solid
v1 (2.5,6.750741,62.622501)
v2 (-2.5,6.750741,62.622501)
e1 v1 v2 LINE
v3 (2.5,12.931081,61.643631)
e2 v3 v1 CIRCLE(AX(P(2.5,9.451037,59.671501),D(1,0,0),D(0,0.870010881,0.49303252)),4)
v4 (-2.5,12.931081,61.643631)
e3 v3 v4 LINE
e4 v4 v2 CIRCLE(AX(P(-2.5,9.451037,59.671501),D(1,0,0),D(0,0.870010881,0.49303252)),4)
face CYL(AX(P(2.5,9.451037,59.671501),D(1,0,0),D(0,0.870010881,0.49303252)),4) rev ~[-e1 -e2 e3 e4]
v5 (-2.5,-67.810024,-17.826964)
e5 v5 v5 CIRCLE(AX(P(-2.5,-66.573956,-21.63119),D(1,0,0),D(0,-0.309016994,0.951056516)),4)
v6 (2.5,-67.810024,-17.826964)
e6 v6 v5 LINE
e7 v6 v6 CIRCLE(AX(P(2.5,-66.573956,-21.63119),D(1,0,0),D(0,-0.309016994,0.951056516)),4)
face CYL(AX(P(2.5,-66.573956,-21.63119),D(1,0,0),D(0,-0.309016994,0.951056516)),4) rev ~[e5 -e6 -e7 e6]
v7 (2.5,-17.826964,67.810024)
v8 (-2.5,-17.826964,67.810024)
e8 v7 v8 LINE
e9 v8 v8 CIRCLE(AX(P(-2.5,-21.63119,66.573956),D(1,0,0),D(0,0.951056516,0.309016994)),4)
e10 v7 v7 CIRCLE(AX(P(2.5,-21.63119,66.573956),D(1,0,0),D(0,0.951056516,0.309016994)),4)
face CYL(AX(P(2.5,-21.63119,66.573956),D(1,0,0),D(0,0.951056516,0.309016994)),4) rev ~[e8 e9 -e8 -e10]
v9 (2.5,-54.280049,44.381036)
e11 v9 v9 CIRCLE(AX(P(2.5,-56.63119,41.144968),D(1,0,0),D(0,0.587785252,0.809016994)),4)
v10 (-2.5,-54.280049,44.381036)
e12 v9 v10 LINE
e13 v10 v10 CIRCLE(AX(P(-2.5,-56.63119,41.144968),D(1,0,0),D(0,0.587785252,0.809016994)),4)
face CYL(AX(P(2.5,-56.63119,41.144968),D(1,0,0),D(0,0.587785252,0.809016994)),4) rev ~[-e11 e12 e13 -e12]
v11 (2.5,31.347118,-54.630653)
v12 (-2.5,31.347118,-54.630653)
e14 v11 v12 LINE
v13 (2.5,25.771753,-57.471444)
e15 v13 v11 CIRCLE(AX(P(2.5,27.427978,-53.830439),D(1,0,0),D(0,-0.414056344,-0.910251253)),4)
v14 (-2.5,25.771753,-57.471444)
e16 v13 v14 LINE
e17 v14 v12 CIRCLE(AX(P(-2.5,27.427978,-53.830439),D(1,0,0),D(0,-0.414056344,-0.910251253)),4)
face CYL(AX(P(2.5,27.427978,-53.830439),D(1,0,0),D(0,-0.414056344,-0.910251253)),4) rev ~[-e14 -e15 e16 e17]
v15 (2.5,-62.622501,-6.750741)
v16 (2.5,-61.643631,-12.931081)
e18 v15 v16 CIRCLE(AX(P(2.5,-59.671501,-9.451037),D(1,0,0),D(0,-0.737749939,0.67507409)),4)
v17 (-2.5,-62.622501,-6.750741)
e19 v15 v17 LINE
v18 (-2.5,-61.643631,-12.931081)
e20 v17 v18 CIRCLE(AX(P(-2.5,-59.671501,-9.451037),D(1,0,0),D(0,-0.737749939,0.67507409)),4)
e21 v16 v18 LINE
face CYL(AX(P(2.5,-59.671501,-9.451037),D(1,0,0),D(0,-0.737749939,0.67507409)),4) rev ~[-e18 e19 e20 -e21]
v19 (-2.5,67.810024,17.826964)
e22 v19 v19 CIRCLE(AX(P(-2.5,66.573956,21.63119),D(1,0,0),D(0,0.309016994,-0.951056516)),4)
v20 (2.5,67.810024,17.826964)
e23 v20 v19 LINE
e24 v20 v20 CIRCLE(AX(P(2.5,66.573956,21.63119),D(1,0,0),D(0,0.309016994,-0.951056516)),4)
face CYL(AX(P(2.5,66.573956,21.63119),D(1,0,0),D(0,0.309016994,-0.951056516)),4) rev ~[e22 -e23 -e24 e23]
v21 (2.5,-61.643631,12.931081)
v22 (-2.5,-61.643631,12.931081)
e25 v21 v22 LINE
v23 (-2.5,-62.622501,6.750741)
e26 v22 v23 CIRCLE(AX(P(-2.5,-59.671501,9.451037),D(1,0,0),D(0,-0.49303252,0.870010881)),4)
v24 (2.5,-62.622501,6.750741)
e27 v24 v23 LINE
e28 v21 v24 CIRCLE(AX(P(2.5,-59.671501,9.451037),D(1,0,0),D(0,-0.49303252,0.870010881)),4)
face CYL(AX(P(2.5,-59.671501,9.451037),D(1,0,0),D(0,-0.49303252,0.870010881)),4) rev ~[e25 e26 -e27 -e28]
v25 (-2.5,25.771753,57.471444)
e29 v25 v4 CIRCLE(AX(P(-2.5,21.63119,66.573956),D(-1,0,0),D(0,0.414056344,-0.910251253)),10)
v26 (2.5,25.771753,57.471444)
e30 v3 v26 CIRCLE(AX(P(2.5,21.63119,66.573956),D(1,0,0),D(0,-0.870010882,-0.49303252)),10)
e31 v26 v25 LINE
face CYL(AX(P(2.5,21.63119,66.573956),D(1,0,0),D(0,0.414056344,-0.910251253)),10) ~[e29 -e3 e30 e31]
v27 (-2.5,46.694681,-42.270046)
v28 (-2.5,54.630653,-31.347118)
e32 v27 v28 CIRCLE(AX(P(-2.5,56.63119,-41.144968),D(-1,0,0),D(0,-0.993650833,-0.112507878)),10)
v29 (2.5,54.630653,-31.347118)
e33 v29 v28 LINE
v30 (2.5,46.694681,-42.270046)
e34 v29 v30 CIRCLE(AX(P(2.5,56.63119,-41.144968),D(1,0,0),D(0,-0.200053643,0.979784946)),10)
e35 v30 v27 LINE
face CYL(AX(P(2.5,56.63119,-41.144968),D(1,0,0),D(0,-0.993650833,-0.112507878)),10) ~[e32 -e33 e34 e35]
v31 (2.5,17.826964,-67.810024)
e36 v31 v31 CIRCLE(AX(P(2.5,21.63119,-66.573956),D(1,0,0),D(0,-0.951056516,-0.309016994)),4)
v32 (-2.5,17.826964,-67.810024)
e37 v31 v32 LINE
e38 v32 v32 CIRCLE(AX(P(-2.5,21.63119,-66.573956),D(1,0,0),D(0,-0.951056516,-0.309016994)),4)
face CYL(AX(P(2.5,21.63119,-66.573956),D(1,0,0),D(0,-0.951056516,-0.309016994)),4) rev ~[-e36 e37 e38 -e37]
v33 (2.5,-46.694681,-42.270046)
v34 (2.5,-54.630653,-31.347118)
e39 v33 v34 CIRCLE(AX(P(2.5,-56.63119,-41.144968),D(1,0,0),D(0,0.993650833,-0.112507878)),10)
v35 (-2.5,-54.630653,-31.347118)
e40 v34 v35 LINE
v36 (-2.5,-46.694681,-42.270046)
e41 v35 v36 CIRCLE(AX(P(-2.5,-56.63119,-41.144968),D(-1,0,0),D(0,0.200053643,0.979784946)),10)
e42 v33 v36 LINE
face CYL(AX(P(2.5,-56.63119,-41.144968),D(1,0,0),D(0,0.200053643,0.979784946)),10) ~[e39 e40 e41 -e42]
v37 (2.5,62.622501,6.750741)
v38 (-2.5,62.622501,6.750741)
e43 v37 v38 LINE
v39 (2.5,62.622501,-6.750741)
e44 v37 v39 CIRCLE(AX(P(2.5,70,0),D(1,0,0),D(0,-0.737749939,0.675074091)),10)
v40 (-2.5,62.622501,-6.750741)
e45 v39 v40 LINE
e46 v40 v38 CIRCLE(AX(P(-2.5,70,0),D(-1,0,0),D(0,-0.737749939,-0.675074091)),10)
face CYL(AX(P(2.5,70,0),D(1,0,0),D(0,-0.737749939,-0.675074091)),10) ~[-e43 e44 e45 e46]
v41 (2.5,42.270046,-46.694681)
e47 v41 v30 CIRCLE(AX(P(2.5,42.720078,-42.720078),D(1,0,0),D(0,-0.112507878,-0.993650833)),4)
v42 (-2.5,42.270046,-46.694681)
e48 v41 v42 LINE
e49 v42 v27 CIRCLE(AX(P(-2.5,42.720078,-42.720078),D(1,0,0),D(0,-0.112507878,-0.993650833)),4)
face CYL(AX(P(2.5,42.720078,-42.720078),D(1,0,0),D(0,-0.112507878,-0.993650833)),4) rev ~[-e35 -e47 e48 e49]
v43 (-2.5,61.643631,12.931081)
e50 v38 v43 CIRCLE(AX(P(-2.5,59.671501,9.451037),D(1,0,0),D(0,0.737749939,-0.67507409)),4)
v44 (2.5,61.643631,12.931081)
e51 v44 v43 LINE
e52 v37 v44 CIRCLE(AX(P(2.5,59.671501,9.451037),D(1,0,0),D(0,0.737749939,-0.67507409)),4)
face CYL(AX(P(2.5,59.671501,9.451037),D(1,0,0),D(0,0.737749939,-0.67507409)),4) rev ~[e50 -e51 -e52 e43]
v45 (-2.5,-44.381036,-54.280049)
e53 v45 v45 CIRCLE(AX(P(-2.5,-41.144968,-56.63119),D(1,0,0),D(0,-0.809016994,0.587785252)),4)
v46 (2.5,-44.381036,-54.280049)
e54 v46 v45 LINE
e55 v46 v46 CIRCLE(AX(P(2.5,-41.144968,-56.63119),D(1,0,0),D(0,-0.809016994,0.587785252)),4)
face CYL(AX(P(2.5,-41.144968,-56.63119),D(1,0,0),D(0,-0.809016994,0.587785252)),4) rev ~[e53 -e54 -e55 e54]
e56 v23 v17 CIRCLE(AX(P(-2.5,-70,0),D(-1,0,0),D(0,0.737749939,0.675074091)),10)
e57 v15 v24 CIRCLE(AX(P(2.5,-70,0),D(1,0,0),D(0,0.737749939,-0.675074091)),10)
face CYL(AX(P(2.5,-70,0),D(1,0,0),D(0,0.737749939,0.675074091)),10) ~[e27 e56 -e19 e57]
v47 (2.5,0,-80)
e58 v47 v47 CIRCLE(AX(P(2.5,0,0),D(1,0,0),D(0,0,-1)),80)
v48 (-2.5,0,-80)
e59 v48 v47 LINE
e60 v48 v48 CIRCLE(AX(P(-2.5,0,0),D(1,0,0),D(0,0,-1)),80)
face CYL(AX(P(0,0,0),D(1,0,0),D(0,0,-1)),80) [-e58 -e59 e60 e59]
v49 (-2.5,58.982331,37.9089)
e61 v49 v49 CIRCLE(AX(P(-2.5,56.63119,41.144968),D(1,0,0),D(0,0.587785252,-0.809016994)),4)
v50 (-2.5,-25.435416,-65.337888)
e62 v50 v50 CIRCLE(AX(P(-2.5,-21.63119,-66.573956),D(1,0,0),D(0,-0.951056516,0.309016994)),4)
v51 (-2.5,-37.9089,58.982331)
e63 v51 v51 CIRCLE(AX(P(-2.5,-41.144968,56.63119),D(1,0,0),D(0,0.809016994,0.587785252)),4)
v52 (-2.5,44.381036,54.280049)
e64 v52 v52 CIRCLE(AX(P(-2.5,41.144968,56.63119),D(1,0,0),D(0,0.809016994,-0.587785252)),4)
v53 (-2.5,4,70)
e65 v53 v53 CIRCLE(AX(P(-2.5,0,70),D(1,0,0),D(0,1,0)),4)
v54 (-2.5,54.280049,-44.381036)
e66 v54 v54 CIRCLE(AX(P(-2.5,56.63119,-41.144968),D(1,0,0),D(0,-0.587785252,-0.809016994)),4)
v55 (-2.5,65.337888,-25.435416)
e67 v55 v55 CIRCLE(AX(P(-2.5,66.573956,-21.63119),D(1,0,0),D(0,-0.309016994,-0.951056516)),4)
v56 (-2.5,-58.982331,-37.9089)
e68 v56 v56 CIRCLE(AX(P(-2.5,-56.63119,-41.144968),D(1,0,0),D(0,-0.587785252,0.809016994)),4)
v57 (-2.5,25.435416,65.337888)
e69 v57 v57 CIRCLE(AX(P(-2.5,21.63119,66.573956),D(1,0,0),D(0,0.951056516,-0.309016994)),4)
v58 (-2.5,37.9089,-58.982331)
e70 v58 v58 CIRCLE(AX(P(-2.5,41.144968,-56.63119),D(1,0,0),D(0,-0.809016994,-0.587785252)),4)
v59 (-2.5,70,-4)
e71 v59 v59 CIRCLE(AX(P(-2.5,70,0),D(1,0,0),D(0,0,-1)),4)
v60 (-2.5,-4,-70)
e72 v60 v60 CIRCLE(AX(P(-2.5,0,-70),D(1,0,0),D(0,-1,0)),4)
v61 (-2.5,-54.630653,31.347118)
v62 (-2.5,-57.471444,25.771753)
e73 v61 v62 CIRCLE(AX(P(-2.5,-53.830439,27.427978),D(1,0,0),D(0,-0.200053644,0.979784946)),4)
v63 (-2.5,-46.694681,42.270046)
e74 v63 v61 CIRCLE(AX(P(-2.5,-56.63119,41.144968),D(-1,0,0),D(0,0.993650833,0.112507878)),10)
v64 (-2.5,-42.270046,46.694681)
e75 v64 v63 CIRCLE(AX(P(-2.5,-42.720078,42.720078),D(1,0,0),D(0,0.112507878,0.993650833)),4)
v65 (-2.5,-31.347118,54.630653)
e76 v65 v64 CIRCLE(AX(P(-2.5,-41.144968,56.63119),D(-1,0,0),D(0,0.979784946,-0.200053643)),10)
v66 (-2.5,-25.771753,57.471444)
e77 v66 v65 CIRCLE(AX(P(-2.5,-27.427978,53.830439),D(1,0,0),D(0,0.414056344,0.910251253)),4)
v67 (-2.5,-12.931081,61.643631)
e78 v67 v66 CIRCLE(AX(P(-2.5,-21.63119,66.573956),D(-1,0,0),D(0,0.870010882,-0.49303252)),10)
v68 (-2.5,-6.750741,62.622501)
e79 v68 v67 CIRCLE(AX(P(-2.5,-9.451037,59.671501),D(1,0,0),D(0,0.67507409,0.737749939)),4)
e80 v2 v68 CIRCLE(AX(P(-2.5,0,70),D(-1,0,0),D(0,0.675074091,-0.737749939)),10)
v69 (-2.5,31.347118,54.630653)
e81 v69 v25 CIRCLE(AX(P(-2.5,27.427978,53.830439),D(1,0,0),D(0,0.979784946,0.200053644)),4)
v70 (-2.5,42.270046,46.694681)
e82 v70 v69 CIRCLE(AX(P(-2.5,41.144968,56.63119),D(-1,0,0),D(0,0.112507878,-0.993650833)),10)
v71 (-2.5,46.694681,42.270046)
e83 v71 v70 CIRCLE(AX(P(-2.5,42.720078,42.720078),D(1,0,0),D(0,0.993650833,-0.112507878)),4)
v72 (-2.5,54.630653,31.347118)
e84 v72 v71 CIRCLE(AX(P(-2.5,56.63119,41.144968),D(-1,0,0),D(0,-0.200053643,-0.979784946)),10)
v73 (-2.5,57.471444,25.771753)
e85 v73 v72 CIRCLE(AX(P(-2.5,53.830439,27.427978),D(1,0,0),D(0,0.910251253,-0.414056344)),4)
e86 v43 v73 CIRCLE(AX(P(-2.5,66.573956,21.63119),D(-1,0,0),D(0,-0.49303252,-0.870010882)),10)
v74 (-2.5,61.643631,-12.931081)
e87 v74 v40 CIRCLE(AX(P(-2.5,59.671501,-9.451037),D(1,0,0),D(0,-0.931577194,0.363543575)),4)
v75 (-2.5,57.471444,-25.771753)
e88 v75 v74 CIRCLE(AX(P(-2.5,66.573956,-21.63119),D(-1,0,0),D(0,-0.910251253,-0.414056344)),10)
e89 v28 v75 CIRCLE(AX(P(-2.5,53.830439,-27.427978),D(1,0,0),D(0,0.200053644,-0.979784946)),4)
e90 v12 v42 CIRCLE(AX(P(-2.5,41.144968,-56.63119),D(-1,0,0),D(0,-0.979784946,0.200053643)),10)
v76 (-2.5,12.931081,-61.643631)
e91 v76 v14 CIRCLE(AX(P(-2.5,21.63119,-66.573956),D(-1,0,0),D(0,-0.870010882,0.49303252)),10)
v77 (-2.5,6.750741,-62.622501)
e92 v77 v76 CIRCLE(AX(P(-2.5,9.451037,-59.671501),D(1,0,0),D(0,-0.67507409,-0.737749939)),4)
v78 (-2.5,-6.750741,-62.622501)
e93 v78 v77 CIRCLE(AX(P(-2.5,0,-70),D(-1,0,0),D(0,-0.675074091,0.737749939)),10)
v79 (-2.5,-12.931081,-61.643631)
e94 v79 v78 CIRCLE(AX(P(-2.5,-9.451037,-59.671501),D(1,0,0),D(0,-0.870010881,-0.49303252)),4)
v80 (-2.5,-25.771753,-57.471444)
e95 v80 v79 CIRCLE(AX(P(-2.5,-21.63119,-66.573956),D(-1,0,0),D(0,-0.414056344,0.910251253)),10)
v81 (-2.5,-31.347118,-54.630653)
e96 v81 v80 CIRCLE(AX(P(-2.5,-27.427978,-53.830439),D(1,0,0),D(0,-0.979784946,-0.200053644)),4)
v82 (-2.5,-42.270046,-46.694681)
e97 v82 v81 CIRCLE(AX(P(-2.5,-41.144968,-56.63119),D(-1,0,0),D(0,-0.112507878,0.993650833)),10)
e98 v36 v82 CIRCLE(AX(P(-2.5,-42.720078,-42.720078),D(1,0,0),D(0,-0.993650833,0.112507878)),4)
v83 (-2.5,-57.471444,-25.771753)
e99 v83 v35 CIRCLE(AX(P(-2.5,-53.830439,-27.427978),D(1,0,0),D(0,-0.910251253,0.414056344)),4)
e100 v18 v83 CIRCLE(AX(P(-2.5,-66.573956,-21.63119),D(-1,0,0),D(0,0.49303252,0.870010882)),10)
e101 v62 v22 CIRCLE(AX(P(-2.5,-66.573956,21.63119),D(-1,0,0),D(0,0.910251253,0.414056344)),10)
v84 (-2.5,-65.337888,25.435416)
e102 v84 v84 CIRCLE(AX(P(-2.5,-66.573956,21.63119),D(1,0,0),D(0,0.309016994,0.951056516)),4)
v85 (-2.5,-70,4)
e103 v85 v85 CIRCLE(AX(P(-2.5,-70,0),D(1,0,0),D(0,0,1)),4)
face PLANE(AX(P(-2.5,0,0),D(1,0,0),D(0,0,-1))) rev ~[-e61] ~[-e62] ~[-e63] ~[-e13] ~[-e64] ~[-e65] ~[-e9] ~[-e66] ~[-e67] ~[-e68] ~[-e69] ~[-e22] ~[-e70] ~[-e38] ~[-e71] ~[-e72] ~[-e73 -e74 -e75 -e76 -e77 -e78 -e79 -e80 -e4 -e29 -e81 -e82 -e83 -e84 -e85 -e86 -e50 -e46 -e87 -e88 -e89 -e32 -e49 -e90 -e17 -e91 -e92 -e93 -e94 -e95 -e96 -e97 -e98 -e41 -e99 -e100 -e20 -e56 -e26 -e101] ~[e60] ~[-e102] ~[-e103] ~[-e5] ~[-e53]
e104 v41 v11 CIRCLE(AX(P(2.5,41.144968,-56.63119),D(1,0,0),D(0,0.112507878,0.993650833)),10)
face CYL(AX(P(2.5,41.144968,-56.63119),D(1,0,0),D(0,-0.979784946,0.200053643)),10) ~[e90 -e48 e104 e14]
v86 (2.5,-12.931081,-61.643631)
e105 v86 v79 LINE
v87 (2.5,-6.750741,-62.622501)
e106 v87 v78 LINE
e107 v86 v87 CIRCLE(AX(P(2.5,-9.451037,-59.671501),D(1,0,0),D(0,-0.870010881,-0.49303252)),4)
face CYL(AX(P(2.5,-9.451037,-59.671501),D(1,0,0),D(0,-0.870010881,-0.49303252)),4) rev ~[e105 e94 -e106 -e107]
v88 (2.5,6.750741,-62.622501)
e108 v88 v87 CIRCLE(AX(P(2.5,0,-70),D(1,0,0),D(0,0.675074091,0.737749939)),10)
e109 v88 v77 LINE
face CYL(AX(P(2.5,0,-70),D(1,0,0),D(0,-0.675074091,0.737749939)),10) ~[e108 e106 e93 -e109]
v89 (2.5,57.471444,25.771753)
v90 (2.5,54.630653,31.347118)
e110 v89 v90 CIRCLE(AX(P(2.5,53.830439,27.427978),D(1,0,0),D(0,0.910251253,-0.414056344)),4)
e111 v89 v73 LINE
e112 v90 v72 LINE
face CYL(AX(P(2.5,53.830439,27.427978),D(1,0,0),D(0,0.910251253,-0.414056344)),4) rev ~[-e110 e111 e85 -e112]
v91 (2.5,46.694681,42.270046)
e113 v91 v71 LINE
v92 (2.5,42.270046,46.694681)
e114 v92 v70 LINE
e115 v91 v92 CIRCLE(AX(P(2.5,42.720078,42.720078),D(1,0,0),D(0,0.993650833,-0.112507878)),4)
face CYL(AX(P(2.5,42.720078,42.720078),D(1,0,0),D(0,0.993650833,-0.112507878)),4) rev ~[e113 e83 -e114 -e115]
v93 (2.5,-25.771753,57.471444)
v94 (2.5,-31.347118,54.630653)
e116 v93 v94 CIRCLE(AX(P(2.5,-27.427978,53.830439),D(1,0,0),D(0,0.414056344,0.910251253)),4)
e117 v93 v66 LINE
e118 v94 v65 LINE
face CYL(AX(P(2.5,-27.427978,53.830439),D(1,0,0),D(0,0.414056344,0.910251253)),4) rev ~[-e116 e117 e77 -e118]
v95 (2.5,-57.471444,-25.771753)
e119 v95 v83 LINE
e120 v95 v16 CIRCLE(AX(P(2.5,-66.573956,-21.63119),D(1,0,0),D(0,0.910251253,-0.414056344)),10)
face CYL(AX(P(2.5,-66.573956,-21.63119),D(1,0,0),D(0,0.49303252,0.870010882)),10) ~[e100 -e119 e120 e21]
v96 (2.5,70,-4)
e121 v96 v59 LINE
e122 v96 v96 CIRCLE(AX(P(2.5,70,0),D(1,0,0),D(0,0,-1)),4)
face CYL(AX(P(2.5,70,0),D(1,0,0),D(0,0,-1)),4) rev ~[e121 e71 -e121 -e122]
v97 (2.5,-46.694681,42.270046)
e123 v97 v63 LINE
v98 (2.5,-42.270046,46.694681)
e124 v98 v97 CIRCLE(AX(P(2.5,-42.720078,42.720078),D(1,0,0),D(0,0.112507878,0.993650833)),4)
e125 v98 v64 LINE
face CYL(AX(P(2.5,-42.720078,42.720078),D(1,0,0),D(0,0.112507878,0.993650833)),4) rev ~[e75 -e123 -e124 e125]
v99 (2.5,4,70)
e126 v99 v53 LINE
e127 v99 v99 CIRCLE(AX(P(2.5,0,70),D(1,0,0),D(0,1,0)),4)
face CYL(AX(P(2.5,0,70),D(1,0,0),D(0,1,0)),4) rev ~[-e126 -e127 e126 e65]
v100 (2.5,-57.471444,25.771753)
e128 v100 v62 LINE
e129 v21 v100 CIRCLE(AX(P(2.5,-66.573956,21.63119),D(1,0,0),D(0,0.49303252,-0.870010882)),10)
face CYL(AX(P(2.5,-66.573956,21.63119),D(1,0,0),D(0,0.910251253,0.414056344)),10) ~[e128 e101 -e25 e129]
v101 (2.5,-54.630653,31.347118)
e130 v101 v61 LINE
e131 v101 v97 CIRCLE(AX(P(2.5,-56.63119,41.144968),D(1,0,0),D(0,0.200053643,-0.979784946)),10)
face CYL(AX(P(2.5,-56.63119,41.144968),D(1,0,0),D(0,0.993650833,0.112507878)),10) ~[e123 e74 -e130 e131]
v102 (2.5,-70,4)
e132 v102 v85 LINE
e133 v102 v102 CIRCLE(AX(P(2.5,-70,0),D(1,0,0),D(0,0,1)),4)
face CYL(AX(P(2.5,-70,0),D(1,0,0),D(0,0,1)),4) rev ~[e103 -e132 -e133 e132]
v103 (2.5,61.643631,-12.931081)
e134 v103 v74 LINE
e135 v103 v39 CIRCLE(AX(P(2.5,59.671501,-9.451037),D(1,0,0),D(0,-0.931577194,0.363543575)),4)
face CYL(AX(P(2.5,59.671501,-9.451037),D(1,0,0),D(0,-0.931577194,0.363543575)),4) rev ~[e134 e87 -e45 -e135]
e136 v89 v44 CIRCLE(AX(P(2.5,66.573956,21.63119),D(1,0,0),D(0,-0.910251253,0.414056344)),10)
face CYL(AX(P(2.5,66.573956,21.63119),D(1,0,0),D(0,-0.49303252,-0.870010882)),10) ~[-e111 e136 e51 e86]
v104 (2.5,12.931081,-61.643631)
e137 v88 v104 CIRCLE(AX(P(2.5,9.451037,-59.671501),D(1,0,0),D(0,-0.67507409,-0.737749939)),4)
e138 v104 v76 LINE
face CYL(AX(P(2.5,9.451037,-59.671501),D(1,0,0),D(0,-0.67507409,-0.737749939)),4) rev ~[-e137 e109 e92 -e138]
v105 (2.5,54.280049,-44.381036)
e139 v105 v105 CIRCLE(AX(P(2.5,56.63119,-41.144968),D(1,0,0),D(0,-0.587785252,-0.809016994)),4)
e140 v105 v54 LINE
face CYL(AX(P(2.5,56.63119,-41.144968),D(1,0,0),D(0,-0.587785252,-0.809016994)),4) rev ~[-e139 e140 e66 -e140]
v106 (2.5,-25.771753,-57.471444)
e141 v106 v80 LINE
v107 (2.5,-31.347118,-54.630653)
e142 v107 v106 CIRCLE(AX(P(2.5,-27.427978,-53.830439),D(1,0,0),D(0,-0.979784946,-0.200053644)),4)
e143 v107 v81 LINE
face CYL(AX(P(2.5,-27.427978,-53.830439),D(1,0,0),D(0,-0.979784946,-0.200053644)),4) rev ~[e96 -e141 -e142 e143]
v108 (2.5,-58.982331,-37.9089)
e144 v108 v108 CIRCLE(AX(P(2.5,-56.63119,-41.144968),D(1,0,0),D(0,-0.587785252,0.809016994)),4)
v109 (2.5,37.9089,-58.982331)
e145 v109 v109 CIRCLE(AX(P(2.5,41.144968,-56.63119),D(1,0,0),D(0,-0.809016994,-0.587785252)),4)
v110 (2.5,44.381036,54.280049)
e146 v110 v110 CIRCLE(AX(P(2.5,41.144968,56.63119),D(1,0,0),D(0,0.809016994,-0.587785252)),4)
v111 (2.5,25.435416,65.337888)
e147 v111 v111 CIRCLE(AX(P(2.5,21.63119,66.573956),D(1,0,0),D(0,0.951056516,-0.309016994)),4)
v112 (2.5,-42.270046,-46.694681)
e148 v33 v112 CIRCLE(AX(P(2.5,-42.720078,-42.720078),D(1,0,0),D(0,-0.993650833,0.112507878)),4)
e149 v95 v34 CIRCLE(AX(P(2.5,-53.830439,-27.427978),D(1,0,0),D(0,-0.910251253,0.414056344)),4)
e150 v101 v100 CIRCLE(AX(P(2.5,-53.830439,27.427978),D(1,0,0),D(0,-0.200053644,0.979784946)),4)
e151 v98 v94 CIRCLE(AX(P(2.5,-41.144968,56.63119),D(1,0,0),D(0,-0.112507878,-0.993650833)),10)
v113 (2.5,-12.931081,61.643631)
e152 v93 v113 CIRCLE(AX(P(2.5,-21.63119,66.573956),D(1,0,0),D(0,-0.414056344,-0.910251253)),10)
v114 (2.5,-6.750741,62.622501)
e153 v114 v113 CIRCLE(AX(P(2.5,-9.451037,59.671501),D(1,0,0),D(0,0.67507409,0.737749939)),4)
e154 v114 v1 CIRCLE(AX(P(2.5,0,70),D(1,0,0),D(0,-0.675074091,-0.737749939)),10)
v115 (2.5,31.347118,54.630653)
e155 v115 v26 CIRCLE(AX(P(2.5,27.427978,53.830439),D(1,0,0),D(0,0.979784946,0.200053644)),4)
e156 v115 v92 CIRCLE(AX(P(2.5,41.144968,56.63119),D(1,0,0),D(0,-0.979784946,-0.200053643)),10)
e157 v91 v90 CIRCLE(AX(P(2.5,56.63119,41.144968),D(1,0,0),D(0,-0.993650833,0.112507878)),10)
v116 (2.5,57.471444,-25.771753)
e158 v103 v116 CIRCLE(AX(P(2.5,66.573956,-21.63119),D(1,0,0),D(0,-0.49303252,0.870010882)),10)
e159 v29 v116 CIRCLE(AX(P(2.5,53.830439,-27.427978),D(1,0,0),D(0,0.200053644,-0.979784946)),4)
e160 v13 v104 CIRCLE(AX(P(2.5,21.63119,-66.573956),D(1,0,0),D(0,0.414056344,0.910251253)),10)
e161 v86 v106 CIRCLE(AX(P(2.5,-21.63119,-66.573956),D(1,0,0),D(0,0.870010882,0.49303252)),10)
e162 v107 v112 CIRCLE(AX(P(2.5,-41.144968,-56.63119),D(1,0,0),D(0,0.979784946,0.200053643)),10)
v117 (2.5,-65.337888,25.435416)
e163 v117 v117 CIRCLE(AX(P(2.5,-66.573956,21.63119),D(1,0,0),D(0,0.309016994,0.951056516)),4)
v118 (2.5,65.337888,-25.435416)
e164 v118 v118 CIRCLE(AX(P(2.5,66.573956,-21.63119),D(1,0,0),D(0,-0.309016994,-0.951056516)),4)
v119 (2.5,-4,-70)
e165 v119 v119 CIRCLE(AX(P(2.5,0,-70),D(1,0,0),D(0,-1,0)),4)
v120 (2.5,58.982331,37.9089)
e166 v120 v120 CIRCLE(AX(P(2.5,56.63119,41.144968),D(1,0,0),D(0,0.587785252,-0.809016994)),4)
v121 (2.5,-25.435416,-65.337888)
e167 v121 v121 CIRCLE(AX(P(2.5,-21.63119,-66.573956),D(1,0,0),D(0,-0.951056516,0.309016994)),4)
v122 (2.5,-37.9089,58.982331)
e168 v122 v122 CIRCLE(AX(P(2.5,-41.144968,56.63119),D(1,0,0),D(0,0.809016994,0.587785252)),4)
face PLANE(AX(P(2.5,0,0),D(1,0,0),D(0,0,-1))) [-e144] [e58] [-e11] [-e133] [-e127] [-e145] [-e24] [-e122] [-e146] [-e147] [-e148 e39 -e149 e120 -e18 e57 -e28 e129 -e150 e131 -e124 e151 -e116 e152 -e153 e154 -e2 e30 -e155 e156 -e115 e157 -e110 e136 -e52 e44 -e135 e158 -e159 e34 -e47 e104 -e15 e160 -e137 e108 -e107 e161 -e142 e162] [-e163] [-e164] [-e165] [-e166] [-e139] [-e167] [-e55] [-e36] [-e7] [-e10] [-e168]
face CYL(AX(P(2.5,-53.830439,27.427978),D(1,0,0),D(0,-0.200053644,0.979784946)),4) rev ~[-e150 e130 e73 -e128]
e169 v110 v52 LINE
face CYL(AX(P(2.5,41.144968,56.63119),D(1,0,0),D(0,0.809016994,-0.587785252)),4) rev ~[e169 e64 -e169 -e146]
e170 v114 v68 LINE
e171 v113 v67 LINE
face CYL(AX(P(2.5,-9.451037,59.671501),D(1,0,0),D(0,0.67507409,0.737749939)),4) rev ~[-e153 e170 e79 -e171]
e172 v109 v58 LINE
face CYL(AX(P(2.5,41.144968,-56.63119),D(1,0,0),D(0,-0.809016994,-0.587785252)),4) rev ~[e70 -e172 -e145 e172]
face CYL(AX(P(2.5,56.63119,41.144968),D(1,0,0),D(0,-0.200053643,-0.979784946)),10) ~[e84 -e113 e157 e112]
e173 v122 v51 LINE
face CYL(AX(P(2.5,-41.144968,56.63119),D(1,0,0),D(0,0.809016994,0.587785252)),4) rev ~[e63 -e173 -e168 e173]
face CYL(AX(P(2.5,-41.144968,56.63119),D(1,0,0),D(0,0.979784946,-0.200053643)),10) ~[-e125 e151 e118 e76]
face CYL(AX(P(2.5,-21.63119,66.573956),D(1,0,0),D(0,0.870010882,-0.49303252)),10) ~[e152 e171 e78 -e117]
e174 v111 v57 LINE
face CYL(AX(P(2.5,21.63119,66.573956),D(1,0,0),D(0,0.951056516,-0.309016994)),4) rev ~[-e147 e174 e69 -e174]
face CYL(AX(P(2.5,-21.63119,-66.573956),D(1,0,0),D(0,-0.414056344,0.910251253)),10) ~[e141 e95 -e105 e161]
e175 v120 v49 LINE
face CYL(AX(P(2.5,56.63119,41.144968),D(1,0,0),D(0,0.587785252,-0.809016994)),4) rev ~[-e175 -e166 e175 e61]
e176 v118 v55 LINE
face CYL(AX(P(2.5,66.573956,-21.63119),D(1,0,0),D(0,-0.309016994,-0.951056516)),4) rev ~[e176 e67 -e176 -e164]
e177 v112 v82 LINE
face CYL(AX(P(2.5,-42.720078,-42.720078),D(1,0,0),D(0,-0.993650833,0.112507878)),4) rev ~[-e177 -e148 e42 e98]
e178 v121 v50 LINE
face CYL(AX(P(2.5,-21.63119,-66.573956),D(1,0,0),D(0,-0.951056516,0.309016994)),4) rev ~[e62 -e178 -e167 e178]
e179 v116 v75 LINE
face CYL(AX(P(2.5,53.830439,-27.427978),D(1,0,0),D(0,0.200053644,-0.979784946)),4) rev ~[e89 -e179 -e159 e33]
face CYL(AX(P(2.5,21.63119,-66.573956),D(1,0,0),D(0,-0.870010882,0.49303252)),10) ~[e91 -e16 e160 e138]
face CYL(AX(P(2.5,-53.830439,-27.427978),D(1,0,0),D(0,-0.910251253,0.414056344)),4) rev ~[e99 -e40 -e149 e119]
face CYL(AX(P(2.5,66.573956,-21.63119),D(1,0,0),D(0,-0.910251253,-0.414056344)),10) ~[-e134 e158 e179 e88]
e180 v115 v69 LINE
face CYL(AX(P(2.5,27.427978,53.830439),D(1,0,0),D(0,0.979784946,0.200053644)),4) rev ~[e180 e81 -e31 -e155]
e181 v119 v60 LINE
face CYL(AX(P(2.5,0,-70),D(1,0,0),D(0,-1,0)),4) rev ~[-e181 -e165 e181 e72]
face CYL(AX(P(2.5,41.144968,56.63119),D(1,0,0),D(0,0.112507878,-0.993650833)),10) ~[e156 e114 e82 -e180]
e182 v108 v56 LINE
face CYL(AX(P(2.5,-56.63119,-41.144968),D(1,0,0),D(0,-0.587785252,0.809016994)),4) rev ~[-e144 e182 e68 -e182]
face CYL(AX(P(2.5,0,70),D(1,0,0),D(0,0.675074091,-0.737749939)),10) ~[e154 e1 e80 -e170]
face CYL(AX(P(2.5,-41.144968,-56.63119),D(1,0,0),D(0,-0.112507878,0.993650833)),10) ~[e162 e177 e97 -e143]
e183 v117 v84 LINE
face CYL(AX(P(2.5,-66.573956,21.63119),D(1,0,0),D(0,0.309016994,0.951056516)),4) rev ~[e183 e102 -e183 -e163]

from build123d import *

# Parameters (mm, degrees)
SKETCH1_R           = 80
SKETCH1_R_2         = 60
BOSS_EXTRUDE1_DEPTH = 2.5
SKETCH2_R           = 4
CUT_EXTRUDE1_DEPTH  = 114.247516529
CIRPATTERN1_COUNT   = 20


with BuildPart() as part:
    # Sketch1 → Boss-Extrude1 (new, symmetric)
    with BuildSketch(Plane(origin=(0, 0, 0), x_dir=(0, 0, -1), z_dir=(1, 0, 0))):
        Circle(SKETCH1_R)
        Circle(SKETCH1_R_2, mode=Mode.SUBTRACT)
    extrude(amount=BOSS_EXTRUDE1_DEPTH, both=True)

    # Sketch2 → Cut-Extrude1 (cut, through all)
    with BuildSketch(Plane(origin=(2.5, 0, 0), x_dir=(0, 0, -1), z_dir=(1, 0, 0))):
        with Locations((0, 70)):
            Circle(SKETCH2_R)
        with BuildLine():
            Line((-7.996862967, 55.945192077), (7.996862967, 55.945192077))
            ThreePointArc((7.996862967, 55.945192077), (13.383151066, 60.405313548), (6.750740904, 62.622500611))
            ThreePointArc((6.750740904, 62.622500611), (0, 60), (-6.750740904, 62.622500611))
            ThreePointArc((-6.750740904, 62.622500611), (-13.383151066, 60.405313548), (-7.996862967, 55.945192077))
        make_face()
    cut_extrude1 = extrude(amount=-CUT_EXTRUDE1_DEPTH, mode=Mode.SUBTRACT)

    # CirPattern1: Cut-Extrude1 ×20 about axis
    cirpattern1_axis = Axis((2.5, 0, 0), (-1, 0, 0))
    for i in range(1, CIRPATTERN1_COUNT):
        add(cut_extrude1.rotate(cirpattern1_axis, i * 360 / CIRPATTERN1_COUNT), mode=Mode.SUBTRACT)


solid = part.part
